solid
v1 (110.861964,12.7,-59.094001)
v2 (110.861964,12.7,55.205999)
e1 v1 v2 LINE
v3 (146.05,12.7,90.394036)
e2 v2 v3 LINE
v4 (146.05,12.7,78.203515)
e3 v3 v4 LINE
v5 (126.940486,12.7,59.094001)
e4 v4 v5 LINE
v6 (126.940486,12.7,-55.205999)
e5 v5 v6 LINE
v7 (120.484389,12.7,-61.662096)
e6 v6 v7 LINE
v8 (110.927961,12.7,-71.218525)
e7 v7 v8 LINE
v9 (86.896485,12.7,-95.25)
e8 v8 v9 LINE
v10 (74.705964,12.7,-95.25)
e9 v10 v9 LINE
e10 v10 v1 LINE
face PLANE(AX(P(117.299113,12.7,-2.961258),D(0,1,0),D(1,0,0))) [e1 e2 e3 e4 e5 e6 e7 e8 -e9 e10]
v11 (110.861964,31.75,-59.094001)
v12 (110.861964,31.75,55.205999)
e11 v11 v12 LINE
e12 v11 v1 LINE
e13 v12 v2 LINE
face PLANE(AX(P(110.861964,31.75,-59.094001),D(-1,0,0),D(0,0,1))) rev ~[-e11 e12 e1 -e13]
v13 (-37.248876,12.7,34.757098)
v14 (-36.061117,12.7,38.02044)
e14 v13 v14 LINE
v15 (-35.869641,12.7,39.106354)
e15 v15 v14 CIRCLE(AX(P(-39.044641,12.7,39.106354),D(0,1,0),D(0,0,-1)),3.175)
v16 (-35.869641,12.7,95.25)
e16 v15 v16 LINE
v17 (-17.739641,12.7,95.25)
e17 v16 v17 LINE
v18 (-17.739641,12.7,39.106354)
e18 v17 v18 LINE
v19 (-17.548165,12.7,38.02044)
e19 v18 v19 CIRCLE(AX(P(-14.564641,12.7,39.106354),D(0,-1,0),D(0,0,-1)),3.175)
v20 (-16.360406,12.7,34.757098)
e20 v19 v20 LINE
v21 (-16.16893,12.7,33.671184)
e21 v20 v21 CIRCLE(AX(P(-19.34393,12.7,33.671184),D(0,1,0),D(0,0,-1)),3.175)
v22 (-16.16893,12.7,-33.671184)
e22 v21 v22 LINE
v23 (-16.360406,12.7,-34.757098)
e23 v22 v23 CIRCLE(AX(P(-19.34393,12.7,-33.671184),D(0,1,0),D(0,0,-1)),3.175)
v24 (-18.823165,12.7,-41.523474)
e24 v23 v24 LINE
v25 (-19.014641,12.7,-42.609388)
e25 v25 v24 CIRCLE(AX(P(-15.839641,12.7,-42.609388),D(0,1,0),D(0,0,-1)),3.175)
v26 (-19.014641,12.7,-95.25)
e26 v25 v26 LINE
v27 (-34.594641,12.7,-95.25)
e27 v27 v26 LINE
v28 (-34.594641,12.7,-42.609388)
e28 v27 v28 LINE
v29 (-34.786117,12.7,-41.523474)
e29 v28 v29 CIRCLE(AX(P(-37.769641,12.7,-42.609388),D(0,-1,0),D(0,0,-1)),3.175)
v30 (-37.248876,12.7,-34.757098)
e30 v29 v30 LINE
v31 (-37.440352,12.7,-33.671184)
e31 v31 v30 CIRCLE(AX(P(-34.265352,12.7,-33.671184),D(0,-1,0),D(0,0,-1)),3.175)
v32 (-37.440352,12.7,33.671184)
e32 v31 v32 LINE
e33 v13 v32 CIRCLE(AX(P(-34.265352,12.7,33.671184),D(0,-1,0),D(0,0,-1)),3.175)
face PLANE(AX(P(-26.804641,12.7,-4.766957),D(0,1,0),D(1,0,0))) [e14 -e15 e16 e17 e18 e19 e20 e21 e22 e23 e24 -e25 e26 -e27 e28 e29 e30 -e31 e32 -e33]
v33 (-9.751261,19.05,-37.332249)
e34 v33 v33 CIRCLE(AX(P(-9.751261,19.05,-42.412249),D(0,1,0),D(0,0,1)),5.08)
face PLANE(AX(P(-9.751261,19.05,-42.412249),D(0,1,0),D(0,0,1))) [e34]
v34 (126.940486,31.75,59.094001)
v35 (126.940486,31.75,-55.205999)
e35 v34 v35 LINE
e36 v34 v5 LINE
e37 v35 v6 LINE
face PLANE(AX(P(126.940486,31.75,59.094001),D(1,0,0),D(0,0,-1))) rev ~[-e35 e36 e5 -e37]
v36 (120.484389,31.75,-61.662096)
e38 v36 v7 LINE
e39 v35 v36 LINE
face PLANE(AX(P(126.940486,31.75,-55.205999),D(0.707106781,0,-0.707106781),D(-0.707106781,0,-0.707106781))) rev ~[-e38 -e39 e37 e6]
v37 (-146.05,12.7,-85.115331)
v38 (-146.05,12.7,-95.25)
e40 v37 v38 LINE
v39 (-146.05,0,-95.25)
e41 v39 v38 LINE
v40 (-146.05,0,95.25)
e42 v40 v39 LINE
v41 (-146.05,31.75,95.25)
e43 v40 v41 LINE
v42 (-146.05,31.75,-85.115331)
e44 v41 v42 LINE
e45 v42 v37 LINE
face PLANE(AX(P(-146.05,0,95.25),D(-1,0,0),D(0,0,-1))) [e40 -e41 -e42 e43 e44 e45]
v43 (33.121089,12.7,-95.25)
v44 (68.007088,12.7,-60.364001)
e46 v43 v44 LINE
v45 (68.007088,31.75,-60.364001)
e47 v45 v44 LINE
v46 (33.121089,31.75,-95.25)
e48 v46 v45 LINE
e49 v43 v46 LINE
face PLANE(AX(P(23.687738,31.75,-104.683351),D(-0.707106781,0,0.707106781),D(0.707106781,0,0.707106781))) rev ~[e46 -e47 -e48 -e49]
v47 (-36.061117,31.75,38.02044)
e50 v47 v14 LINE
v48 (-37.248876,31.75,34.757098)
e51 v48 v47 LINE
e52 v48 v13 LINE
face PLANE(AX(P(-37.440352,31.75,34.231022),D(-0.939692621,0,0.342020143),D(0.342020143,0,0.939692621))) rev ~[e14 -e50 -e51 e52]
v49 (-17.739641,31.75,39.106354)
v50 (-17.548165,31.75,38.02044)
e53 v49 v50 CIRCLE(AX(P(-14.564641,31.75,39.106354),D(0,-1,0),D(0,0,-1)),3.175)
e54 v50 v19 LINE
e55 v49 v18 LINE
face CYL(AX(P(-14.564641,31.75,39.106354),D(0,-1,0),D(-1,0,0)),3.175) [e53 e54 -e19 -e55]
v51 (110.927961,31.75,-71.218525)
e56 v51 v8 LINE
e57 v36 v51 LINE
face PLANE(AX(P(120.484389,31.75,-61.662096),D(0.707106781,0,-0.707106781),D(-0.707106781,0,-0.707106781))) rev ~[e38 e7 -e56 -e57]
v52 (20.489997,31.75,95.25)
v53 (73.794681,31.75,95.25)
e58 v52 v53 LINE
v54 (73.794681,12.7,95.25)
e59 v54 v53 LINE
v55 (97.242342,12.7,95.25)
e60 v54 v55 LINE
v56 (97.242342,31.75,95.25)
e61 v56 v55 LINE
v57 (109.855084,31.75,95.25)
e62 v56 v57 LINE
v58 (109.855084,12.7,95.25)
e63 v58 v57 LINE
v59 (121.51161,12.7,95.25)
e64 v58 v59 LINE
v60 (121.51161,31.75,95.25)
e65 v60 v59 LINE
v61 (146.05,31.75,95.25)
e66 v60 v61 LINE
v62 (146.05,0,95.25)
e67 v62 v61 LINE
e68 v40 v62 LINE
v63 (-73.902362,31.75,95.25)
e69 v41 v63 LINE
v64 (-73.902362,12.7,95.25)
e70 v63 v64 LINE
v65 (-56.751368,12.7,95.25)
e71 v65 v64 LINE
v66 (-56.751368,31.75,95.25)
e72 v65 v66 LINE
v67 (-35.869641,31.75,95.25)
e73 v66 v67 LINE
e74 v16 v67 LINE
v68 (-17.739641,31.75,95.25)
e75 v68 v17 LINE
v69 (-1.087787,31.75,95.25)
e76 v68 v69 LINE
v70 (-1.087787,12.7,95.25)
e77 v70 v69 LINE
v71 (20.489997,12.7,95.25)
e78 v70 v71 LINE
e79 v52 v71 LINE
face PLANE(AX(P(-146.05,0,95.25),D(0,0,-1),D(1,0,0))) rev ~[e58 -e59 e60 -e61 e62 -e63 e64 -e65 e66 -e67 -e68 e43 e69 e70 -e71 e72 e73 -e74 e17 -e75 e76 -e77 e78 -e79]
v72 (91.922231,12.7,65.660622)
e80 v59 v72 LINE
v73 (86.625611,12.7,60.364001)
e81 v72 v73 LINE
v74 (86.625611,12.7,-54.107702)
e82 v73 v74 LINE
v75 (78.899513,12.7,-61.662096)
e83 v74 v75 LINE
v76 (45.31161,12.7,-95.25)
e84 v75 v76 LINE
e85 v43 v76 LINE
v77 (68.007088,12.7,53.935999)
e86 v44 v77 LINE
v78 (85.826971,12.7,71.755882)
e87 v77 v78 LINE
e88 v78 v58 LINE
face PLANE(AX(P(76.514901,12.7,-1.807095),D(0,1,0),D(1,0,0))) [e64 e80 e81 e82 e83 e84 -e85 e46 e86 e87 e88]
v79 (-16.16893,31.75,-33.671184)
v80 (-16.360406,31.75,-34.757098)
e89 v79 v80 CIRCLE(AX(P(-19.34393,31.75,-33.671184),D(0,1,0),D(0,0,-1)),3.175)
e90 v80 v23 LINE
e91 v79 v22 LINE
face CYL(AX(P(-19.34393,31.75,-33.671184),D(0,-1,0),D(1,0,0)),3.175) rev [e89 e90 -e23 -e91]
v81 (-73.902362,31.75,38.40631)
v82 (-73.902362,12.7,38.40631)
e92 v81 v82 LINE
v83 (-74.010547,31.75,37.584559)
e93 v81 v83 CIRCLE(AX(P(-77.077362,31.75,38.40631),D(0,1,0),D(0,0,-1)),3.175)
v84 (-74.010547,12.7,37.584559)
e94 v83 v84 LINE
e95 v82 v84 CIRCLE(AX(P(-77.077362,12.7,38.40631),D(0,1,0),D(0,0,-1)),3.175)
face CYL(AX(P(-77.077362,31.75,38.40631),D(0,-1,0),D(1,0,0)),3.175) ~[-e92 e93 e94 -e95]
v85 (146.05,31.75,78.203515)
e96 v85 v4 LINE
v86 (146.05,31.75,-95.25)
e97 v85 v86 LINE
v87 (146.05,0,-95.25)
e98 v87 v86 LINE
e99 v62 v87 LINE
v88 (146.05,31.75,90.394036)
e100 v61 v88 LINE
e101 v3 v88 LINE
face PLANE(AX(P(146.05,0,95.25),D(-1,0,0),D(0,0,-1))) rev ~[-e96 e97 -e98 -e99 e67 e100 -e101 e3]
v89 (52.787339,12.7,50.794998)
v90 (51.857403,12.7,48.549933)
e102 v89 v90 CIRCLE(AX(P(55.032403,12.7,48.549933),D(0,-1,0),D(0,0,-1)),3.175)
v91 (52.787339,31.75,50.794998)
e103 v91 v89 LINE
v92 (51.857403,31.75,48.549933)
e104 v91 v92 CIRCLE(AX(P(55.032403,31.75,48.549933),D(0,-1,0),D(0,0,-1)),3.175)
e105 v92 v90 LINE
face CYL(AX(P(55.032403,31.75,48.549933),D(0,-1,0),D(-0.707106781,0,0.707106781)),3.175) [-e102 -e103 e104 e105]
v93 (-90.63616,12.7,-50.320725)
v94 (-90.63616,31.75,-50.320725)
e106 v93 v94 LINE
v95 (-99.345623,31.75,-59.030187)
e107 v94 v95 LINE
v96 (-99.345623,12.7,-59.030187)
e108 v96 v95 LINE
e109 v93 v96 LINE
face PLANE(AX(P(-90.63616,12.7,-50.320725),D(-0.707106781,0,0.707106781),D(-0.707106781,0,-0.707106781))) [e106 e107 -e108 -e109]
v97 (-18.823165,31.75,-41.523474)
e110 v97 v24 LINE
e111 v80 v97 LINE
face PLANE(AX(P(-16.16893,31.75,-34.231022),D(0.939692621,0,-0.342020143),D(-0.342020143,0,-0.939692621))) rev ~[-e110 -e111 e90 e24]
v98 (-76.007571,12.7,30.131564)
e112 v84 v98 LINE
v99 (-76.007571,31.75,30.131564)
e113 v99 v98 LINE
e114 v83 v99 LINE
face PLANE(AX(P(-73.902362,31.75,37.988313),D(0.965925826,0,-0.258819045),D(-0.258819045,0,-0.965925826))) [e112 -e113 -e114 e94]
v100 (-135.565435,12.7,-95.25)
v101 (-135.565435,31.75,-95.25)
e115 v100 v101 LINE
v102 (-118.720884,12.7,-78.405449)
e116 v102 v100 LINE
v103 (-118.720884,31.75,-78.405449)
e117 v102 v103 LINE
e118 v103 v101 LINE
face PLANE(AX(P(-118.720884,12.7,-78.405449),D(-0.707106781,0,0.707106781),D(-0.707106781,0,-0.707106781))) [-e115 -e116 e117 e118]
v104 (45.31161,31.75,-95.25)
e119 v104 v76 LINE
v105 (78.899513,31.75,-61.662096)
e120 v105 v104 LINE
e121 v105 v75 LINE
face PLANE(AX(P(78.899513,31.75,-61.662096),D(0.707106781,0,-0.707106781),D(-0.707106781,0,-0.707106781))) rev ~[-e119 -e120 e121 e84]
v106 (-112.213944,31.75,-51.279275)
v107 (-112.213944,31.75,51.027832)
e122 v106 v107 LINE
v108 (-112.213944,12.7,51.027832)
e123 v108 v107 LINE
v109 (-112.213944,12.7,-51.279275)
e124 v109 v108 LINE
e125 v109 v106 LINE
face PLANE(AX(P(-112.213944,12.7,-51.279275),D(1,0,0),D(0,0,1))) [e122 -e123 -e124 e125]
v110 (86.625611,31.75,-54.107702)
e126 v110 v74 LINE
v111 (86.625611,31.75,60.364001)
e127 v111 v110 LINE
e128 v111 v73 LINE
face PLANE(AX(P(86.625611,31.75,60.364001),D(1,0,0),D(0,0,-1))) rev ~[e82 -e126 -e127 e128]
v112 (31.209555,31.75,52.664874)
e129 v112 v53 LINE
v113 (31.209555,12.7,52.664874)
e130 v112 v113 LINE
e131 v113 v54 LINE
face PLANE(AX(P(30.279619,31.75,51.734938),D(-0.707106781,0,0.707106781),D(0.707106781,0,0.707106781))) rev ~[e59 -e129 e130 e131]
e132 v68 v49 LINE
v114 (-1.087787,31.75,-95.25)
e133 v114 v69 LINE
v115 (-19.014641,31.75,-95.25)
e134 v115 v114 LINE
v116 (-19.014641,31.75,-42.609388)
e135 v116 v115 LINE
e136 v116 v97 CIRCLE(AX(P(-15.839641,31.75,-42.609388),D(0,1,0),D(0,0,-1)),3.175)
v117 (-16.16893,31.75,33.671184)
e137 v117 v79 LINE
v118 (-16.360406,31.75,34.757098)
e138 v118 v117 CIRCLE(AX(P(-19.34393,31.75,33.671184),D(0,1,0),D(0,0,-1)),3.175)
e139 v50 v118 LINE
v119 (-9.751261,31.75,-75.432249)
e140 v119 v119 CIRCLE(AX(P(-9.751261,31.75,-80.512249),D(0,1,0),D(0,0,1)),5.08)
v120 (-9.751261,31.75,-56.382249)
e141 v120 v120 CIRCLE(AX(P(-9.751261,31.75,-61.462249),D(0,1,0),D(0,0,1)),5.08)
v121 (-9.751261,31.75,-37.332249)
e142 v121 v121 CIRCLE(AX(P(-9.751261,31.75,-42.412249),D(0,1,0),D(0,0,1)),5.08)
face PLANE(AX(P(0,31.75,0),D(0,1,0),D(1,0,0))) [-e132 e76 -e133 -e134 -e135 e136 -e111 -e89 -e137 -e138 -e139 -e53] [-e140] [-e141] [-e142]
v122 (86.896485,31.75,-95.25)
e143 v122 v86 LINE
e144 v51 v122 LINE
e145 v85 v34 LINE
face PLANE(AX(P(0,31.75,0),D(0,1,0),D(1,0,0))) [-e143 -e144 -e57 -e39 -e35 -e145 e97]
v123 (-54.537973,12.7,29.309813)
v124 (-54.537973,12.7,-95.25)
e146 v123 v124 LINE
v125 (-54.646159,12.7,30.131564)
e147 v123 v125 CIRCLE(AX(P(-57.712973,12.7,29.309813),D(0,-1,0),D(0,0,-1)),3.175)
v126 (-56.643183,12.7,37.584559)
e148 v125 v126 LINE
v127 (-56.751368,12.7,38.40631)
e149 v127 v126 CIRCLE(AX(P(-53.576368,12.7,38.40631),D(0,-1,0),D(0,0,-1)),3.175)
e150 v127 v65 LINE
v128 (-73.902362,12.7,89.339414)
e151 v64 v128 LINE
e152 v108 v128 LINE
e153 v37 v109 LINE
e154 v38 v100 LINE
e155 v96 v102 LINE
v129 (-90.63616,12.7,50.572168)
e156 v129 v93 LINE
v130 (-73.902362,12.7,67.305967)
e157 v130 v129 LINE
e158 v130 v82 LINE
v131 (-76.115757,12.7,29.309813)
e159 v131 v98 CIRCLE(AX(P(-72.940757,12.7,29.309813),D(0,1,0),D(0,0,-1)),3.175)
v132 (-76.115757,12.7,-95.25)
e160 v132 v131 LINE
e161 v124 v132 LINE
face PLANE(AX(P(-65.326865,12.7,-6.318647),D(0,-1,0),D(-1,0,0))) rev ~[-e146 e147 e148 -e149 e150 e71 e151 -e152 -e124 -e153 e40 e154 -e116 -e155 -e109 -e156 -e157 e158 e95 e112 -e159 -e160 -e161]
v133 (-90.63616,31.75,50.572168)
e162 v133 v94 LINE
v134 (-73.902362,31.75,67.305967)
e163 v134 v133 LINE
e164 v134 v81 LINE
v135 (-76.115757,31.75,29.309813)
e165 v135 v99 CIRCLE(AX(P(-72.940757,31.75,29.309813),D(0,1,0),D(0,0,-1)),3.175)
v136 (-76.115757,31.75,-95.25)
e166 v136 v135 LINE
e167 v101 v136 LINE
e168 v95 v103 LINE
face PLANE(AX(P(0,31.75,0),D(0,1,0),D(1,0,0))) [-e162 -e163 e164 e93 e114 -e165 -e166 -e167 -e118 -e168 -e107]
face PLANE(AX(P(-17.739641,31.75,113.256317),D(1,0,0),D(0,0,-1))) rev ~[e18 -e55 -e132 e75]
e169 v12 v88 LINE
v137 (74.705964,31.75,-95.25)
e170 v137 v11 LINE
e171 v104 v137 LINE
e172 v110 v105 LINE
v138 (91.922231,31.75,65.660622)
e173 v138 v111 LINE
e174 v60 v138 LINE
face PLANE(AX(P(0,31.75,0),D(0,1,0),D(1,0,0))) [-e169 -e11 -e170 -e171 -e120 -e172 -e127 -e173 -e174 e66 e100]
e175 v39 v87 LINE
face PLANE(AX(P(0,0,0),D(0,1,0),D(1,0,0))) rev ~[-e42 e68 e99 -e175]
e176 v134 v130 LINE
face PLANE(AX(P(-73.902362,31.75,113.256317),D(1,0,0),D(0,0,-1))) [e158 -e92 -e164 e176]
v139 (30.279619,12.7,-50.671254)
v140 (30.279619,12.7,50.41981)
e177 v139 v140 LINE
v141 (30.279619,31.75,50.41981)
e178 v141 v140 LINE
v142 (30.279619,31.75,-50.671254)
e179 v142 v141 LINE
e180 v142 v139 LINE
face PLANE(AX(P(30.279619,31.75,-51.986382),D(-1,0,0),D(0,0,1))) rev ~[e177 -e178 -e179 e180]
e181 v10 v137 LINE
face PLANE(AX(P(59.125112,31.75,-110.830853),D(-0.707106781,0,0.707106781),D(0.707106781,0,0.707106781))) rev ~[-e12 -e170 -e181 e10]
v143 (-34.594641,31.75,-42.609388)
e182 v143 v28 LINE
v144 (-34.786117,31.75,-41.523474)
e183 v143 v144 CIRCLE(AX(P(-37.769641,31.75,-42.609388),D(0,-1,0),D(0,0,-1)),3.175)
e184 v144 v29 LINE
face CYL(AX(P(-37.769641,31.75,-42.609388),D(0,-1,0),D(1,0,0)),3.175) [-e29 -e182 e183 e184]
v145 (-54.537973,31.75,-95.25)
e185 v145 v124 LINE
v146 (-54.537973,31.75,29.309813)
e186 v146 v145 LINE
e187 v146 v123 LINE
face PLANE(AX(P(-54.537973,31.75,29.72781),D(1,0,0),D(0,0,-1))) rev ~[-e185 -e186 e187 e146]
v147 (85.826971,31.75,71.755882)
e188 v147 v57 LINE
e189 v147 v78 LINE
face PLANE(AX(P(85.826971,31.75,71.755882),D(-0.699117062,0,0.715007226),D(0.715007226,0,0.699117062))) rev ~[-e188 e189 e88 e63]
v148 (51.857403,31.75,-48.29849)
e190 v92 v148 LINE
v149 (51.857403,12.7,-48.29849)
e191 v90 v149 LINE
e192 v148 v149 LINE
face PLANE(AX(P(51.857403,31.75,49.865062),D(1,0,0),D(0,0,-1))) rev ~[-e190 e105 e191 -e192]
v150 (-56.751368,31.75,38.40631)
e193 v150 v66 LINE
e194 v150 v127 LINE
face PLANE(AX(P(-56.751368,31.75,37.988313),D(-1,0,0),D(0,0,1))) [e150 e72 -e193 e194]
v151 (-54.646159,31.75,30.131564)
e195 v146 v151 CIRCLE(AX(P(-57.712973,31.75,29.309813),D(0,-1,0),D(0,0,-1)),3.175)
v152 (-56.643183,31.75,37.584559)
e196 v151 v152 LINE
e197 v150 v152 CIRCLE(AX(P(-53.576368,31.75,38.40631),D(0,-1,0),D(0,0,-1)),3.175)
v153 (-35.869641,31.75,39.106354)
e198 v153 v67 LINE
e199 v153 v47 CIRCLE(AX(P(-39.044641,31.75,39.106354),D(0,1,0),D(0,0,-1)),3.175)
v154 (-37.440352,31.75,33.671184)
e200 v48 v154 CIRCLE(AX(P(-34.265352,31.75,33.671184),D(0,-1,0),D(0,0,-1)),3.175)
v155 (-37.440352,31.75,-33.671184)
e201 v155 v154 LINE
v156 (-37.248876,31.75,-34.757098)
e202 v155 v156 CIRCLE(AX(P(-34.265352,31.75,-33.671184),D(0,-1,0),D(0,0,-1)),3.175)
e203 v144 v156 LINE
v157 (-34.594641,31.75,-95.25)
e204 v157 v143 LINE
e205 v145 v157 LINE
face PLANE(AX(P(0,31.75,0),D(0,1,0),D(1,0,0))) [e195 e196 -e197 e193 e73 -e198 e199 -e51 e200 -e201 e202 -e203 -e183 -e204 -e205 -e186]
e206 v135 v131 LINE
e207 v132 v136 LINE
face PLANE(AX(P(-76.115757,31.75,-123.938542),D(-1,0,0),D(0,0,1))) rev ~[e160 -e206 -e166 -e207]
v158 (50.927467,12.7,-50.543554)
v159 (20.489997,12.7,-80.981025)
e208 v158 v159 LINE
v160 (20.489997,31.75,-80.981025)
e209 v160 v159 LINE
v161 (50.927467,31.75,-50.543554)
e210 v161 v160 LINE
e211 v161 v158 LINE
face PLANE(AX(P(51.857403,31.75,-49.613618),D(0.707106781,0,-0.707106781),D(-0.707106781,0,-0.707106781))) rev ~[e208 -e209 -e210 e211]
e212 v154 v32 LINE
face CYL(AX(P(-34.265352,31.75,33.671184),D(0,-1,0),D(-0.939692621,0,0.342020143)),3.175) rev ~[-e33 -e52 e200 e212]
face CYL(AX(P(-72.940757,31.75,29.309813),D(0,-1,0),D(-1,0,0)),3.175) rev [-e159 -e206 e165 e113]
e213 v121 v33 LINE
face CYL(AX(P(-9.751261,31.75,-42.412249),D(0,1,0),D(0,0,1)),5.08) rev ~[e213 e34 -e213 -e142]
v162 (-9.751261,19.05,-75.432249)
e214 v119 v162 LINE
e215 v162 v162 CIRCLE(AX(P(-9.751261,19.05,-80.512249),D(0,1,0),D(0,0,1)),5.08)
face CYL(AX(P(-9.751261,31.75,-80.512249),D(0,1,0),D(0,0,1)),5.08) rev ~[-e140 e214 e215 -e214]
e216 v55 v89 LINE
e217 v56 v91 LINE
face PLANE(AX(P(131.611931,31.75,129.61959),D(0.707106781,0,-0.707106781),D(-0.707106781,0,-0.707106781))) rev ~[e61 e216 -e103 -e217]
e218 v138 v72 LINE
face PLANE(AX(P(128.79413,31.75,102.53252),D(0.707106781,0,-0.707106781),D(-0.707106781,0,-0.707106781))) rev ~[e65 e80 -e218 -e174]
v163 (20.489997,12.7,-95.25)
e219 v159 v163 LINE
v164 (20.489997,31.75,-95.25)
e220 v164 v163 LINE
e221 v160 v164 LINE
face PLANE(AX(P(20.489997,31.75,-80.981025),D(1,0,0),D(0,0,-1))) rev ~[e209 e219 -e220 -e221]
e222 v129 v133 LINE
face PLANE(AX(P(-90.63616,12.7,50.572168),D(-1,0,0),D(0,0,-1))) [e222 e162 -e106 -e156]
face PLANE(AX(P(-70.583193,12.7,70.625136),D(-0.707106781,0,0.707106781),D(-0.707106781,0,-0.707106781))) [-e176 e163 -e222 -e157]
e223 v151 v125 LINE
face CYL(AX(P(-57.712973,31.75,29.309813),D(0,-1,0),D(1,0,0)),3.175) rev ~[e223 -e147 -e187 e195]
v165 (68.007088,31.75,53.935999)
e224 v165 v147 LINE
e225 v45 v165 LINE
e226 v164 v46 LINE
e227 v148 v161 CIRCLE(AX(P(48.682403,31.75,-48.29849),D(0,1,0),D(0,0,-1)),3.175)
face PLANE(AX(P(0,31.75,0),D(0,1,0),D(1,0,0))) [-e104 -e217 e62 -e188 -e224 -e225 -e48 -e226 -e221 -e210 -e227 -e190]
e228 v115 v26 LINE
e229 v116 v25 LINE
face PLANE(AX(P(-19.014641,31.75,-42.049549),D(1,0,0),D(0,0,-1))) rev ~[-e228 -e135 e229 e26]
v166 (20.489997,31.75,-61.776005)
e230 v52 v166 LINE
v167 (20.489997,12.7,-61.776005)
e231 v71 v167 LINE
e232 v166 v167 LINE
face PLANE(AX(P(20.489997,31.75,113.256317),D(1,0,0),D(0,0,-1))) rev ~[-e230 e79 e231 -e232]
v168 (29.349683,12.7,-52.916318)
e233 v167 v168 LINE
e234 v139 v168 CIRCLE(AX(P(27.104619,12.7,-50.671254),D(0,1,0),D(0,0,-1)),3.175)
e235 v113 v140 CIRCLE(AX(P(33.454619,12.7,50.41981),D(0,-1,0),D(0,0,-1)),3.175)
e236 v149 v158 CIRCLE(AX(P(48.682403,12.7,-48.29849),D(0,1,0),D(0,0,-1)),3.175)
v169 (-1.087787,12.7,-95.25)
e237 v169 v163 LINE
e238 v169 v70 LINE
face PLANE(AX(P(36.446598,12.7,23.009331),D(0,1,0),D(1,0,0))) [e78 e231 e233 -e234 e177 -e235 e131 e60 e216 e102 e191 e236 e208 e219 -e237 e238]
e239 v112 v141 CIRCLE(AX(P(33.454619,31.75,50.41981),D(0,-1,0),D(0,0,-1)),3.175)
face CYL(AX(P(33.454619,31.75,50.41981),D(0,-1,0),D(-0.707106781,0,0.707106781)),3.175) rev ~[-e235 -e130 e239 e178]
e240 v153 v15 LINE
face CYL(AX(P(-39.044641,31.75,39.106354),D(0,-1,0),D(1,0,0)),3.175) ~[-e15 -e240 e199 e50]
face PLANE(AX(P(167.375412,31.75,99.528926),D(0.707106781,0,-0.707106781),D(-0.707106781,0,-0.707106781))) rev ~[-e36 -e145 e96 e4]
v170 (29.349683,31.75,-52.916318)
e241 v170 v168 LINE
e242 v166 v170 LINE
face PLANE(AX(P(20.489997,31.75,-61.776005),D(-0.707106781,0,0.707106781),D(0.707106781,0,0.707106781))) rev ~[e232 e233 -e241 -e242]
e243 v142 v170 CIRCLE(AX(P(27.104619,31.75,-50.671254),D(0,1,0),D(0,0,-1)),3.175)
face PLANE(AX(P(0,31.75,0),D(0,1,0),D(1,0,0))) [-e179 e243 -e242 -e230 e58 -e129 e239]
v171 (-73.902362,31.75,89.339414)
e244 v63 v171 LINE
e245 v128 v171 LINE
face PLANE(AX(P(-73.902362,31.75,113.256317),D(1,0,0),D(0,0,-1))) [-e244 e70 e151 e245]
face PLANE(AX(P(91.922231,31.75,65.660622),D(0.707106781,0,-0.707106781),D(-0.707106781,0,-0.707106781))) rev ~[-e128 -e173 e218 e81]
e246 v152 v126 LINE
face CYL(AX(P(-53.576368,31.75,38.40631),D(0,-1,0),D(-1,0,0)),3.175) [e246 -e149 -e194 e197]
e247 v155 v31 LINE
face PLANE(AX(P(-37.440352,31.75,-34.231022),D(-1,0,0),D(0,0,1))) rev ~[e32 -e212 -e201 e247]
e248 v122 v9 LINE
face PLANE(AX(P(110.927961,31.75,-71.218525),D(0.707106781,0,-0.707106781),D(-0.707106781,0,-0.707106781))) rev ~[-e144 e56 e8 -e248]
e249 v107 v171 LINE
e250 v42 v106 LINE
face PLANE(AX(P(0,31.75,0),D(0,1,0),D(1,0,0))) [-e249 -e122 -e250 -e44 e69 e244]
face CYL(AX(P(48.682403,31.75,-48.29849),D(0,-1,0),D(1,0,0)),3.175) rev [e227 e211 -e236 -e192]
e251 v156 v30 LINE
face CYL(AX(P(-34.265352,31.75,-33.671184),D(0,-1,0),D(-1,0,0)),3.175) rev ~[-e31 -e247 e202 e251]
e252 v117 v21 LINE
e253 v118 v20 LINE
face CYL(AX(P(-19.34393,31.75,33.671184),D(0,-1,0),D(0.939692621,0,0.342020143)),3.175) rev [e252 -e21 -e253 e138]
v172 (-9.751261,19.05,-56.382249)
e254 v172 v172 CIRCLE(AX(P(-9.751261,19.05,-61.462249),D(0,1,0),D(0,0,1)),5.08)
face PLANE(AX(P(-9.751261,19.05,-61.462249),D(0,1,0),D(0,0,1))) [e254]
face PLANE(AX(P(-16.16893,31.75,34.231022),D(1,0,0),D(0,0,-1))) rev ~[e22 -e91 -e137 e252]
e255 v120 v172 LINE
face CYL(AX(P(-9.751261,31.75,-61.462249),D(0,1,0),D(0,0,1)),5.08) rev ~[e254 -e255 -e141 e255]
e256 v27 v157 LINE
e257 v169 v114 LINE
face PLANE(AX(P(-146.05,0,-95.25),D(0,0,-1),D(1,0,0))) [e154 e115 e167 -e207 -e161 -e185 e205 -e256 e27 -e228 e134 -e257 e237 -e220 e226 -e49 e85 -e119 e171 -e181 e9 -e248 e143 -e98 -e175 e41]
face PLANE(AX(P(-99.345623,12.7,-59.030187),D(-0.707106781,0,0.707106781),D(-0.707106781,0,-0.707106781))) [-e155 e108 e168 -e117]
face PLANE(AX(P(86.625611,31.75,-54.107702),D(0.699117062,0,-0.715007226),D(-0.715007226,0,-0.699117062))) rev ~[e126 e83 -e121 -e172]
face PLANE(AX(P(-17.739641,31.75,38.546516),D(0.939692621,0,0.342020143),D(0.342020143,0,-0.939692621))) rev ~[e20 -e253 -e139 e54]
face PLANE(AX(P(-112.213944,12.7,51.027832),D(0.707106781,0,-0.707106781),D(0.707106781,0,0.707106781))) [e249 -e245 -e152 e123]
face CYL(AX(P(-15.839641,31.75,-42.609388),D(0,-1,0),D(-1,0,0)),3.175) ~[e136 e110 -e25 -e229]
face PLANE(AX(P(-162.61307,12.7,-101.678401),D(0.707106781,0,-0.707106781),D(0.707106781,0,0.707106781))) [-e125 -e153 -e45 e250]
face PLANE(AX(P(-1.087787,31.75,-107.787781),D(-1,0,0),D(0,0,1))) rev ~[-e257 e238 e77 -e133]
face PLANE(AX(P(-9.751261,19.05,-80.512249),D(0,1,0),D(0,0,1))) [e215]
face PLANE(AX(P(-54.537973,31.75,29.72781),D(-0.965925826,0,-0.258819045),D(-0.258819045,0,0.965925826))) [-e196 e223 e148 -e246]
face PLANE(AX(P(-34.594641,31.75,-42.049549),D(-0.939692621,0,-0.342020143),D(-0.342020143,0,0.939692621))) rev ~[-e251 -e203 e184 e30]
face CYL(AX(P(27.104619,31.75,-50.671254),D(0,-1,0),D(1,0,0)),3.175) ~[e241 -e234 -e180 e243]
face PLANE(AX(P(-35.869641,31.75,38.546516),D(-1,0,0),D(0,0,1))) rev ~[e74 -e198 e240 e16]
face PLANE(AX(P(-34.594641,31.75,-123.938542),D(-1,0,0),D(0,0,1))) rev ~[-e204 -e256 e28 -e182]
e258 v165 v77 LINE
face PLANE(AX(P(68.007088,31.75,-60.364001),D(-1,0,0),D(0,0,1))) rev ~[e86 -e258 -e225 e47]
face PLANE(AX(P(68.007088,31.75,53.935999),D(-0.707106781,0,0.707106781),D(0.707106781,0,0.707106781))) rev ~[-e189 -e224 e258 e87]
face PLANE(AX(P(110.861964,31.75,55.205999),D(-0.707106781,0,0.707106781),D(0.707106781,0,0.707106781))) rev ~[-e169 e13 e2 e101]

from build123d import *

# Parameters (mm, degrees)
SKETCH1_W           = 292.1
SKETCH1_H           = 190.5
BOSS_EXTRUDE1_DEPTH = 31.75
CUT_EXTRUDE1_DEPTH  = 19.05
FILLET1_R           = 3.175
SKETCH8_R           = 5.08
CUT_EXTRUDE2_DEPTH  = 12.7
CUT_EXTRUDE3_DEPTH  = 19.05
CUT_EXTRUDE4_START  = -19.05
CUT_EXTRUDE4_DEPTH  = 19.05


with BuildPart() as part:
    # Sketch1 → Boss-Extrude1 (new body)
    with BuildSketch(Plane(origin=(0, 0, 0), x_dir=(1, 0, 0), z_dir=(0, 1, 0))):
        Rectangle(SKETCH1_W, SKETCH1_H)
    extrude(amount=BOSS_EXTRUDE1_DEPTH)

    # Sketch5 → Cut-Extrude1 (cut)
    with BuildSketch(Plane(origin=(0, 31.75, 0), x_dir=(1, 0, 0), z_dir=(0, 1, 0))):
        Polygon((-54.537973011, 56.645897063), (-54.537973011, 45.282587268), (-54.537973011, -9.143020761), (-54.537973011, -29.727810076), (-56.751368127, -37.988313106), (-56.751368127, -113.256317169), (-73.902361837, -113.256317169), (-73.902361837, -37.988313106), (-76.115756953, -29.727810076), (-76.115756953, -11.930912732), (-76.115756953, -9.143020761), (-76.115756953, 45.282587268), (-76.115756953, 56.645897063), (-76.115756953, 64.900897063), (-76.115756953, 123.938542293), (-54.537973011, 123.938542293), (-54.537973011, 64.900897063), align=None)
        Polygon((-35.869641097, -54.76875), (-35.869641097, -113.256317169), (-17.739641097, -113.256317169), (-17.739641097, -54.76875), (-17.739641097, -38.54651566), (-16.168929869, -34.231022029), (-16.168929869, 34.231022029), (-19.014641097, 42.04954937), (-19.014641097, 54.76875), (-19.014641097, 123.938542293), (-34.594641097, 123.938542293), (-34.594641097, 54.76875), (-34.594641097, 42.04954937), (-37.440352325, 34.231022029), (-37.440352325, -34.231022029), (-35.869641097, -38.54651566), align=None)
        Polygon((68.007088005, -12.827), (68.007088005, -53.93599914), (75.733185186, -61.662096321), (85.826970956, -71.755882091), (120.911645373, -106.060842413), (128.794129656, -102.532519884), (91.922231409, -65.660621637), (86.625610633, -60.36400086), (86.625610633, -12.827), (86.625610633, 12.827), (86.625610633, 54.107702226), (78.899513451, 61.662096321), (69.164333129, 71.397276643), (30.279619459, 110.281990313), (23.687738087, 104.683350778), (63.069072676, 65.302016189), (68.007088005, 60.36400086), (68.007088005, 12.827), align=None)
        Polygon((20.489996677, 80.981024842), (20.489996677, 107.787781329), (-1.087787265, 107.787781329), (-1.087787265, 37.36975), (-1.087787265, -17.055858029), (-1.087787265, -113.256317169), (20.489996677, -113.256317169), (20.489996677, -17.055858029), (20.489996677, 37.36975), (20.489996677, 61.776004665), (30.279619459, 51.986381883), (30.279619459, -51.734938461), (111.842171541, -133.297490543), (131.611931441, -129.619589579), (51.857403402, -49.865061539), (51.857403402, 49.613618117), align=None)
    extrude(amount=-CUT_EXTRUDE1_DEPTH, mode=Mode.SUBTRACT)

    # Fillet1
    fillet1_edges = [part.edges().sort_by_distance(p)[0] for p in [
        (-34.594641097, 22.225, -42.04954937),
        (-17.739641097, 22.225, 38.54651566),
        (-37.440352325, 22.225, 34.231022029),
        (-37.440352325, 22.225, -34.231022029),
        (-19.014641097, 22.225, -42.04954937),
        (-16.168929869, 22.225, -34.231022029),
        (-16.168929869, 22.225, 34.231022029),
        (-35.869641097, 22.225, 38.54651566),
        (51.857403402, 22.225, 49.865061539),
        (51.857403402, 22.225, -49.613618117),
        (30.279619459, 22.225, 51.734938461),
        (30.279619459, 22.225, -51.986381883),
        (-76.115756953, 22.225, 29.727810076),
        (-56.751368127, 22.225, 37.988313106),
        (-73.902361837, 22.225, 37.988313106),
        (-54.537973011, 22.225, 29.727810076),
    ]]
    fillet(fillet1_edges, radius=FILLET1_R)

    # Sketch8 → Cut-Extrude2 (cut)
    with BuildSketch(Plane(origin=(0, 31.75, 0), x_dir=(1, 0, 0), z_dir=(0, 1, 0))):
        with Locations(Location((-9.751260883, 42.41224903, 0), (0, 0, 270))):
            Circle(SKETCH8_R)
        with Locations(Location((-9.751260883, 61.46224903, 0), (0, 0, 270))):
            Circle(SKETCH8_R)
        with Locations(Location((-9.751260883, 80.51224903, 0), (0, 0, 270))):
            Circle(SKETCH8_R)
    extrude(amount=-CUT_EXTRUDE2_DEPTH, mode=Mode.SUBTRACT)

    # Sketch10 → Cut-Extrude3 (cut)
    with BuildSketch(Plane(origin=(0, 31.75, 0), x_dir=(1, 0, 0), z_dir=(0, 1, 0))):
        Polygon((110.861963616, 12.827), (110.861963616, -12.827), (110.861963616, -55.20599914), (117.318060797, -61.662096321), (127.591928077, -71.935963601), (167.375411749, -111.719447273), (167.375411749, -99.528926365), (133.687188531, -65.840703147), (126.940486244, -59.09400086), (126.940486244, -12.827), (126.940486244, 12.827), (126.940486244, 55.20599914), (120.484389062, 61.662096321), (110.927960718, 71.218524666), (71.315632765, 110.830852619), (59.125111857, 110.830852619), (104.832700264, 65.123264212), (110.861963616, 59.09400086), align=None)
    extrude(amount=-CUT_EXTRUDE3_DEPTH, mode=Mode.SUBTRACT)

    # Sketch13 → Cut-Extrude4 (cut)
    with BuildSketch(Plane(origin=(0, 31.75, 0), x_dir=(1, 0, 0), z_dir=(0, 1, 0)).offset(CUT_EXTRUDE4_START)):
        Polygon((-90.636160304, -19.2405), (-90.636160304, 19.2405), (-90.636160304, 50.320724899), (-99.345622638, 59.030187232), (-118.720884143, 78.405448738), (-162.613070171, 122.297634766), (-162.613070171, 101.678401026), (-129.030501013, 68.095831868), (-112.213944246, 51.279275101), (-112.213944246, 19.2405), (-112.213944246, -19.2405), (-112.213944246, -51.02783168), (-103.858035303, -59.383740623), (-84.482773798, -78.759002128), (-70.58319311, -92.658582816), (-70.58319311, -70.625135514), (-73.466050147, -67.742278477), (-90.636160304, -50.57216832), align=None)
    extrude(amount=CUT_EXTRUDE4_DEPTH, mode=Mode.SUBTRACT)


solid = part.part
